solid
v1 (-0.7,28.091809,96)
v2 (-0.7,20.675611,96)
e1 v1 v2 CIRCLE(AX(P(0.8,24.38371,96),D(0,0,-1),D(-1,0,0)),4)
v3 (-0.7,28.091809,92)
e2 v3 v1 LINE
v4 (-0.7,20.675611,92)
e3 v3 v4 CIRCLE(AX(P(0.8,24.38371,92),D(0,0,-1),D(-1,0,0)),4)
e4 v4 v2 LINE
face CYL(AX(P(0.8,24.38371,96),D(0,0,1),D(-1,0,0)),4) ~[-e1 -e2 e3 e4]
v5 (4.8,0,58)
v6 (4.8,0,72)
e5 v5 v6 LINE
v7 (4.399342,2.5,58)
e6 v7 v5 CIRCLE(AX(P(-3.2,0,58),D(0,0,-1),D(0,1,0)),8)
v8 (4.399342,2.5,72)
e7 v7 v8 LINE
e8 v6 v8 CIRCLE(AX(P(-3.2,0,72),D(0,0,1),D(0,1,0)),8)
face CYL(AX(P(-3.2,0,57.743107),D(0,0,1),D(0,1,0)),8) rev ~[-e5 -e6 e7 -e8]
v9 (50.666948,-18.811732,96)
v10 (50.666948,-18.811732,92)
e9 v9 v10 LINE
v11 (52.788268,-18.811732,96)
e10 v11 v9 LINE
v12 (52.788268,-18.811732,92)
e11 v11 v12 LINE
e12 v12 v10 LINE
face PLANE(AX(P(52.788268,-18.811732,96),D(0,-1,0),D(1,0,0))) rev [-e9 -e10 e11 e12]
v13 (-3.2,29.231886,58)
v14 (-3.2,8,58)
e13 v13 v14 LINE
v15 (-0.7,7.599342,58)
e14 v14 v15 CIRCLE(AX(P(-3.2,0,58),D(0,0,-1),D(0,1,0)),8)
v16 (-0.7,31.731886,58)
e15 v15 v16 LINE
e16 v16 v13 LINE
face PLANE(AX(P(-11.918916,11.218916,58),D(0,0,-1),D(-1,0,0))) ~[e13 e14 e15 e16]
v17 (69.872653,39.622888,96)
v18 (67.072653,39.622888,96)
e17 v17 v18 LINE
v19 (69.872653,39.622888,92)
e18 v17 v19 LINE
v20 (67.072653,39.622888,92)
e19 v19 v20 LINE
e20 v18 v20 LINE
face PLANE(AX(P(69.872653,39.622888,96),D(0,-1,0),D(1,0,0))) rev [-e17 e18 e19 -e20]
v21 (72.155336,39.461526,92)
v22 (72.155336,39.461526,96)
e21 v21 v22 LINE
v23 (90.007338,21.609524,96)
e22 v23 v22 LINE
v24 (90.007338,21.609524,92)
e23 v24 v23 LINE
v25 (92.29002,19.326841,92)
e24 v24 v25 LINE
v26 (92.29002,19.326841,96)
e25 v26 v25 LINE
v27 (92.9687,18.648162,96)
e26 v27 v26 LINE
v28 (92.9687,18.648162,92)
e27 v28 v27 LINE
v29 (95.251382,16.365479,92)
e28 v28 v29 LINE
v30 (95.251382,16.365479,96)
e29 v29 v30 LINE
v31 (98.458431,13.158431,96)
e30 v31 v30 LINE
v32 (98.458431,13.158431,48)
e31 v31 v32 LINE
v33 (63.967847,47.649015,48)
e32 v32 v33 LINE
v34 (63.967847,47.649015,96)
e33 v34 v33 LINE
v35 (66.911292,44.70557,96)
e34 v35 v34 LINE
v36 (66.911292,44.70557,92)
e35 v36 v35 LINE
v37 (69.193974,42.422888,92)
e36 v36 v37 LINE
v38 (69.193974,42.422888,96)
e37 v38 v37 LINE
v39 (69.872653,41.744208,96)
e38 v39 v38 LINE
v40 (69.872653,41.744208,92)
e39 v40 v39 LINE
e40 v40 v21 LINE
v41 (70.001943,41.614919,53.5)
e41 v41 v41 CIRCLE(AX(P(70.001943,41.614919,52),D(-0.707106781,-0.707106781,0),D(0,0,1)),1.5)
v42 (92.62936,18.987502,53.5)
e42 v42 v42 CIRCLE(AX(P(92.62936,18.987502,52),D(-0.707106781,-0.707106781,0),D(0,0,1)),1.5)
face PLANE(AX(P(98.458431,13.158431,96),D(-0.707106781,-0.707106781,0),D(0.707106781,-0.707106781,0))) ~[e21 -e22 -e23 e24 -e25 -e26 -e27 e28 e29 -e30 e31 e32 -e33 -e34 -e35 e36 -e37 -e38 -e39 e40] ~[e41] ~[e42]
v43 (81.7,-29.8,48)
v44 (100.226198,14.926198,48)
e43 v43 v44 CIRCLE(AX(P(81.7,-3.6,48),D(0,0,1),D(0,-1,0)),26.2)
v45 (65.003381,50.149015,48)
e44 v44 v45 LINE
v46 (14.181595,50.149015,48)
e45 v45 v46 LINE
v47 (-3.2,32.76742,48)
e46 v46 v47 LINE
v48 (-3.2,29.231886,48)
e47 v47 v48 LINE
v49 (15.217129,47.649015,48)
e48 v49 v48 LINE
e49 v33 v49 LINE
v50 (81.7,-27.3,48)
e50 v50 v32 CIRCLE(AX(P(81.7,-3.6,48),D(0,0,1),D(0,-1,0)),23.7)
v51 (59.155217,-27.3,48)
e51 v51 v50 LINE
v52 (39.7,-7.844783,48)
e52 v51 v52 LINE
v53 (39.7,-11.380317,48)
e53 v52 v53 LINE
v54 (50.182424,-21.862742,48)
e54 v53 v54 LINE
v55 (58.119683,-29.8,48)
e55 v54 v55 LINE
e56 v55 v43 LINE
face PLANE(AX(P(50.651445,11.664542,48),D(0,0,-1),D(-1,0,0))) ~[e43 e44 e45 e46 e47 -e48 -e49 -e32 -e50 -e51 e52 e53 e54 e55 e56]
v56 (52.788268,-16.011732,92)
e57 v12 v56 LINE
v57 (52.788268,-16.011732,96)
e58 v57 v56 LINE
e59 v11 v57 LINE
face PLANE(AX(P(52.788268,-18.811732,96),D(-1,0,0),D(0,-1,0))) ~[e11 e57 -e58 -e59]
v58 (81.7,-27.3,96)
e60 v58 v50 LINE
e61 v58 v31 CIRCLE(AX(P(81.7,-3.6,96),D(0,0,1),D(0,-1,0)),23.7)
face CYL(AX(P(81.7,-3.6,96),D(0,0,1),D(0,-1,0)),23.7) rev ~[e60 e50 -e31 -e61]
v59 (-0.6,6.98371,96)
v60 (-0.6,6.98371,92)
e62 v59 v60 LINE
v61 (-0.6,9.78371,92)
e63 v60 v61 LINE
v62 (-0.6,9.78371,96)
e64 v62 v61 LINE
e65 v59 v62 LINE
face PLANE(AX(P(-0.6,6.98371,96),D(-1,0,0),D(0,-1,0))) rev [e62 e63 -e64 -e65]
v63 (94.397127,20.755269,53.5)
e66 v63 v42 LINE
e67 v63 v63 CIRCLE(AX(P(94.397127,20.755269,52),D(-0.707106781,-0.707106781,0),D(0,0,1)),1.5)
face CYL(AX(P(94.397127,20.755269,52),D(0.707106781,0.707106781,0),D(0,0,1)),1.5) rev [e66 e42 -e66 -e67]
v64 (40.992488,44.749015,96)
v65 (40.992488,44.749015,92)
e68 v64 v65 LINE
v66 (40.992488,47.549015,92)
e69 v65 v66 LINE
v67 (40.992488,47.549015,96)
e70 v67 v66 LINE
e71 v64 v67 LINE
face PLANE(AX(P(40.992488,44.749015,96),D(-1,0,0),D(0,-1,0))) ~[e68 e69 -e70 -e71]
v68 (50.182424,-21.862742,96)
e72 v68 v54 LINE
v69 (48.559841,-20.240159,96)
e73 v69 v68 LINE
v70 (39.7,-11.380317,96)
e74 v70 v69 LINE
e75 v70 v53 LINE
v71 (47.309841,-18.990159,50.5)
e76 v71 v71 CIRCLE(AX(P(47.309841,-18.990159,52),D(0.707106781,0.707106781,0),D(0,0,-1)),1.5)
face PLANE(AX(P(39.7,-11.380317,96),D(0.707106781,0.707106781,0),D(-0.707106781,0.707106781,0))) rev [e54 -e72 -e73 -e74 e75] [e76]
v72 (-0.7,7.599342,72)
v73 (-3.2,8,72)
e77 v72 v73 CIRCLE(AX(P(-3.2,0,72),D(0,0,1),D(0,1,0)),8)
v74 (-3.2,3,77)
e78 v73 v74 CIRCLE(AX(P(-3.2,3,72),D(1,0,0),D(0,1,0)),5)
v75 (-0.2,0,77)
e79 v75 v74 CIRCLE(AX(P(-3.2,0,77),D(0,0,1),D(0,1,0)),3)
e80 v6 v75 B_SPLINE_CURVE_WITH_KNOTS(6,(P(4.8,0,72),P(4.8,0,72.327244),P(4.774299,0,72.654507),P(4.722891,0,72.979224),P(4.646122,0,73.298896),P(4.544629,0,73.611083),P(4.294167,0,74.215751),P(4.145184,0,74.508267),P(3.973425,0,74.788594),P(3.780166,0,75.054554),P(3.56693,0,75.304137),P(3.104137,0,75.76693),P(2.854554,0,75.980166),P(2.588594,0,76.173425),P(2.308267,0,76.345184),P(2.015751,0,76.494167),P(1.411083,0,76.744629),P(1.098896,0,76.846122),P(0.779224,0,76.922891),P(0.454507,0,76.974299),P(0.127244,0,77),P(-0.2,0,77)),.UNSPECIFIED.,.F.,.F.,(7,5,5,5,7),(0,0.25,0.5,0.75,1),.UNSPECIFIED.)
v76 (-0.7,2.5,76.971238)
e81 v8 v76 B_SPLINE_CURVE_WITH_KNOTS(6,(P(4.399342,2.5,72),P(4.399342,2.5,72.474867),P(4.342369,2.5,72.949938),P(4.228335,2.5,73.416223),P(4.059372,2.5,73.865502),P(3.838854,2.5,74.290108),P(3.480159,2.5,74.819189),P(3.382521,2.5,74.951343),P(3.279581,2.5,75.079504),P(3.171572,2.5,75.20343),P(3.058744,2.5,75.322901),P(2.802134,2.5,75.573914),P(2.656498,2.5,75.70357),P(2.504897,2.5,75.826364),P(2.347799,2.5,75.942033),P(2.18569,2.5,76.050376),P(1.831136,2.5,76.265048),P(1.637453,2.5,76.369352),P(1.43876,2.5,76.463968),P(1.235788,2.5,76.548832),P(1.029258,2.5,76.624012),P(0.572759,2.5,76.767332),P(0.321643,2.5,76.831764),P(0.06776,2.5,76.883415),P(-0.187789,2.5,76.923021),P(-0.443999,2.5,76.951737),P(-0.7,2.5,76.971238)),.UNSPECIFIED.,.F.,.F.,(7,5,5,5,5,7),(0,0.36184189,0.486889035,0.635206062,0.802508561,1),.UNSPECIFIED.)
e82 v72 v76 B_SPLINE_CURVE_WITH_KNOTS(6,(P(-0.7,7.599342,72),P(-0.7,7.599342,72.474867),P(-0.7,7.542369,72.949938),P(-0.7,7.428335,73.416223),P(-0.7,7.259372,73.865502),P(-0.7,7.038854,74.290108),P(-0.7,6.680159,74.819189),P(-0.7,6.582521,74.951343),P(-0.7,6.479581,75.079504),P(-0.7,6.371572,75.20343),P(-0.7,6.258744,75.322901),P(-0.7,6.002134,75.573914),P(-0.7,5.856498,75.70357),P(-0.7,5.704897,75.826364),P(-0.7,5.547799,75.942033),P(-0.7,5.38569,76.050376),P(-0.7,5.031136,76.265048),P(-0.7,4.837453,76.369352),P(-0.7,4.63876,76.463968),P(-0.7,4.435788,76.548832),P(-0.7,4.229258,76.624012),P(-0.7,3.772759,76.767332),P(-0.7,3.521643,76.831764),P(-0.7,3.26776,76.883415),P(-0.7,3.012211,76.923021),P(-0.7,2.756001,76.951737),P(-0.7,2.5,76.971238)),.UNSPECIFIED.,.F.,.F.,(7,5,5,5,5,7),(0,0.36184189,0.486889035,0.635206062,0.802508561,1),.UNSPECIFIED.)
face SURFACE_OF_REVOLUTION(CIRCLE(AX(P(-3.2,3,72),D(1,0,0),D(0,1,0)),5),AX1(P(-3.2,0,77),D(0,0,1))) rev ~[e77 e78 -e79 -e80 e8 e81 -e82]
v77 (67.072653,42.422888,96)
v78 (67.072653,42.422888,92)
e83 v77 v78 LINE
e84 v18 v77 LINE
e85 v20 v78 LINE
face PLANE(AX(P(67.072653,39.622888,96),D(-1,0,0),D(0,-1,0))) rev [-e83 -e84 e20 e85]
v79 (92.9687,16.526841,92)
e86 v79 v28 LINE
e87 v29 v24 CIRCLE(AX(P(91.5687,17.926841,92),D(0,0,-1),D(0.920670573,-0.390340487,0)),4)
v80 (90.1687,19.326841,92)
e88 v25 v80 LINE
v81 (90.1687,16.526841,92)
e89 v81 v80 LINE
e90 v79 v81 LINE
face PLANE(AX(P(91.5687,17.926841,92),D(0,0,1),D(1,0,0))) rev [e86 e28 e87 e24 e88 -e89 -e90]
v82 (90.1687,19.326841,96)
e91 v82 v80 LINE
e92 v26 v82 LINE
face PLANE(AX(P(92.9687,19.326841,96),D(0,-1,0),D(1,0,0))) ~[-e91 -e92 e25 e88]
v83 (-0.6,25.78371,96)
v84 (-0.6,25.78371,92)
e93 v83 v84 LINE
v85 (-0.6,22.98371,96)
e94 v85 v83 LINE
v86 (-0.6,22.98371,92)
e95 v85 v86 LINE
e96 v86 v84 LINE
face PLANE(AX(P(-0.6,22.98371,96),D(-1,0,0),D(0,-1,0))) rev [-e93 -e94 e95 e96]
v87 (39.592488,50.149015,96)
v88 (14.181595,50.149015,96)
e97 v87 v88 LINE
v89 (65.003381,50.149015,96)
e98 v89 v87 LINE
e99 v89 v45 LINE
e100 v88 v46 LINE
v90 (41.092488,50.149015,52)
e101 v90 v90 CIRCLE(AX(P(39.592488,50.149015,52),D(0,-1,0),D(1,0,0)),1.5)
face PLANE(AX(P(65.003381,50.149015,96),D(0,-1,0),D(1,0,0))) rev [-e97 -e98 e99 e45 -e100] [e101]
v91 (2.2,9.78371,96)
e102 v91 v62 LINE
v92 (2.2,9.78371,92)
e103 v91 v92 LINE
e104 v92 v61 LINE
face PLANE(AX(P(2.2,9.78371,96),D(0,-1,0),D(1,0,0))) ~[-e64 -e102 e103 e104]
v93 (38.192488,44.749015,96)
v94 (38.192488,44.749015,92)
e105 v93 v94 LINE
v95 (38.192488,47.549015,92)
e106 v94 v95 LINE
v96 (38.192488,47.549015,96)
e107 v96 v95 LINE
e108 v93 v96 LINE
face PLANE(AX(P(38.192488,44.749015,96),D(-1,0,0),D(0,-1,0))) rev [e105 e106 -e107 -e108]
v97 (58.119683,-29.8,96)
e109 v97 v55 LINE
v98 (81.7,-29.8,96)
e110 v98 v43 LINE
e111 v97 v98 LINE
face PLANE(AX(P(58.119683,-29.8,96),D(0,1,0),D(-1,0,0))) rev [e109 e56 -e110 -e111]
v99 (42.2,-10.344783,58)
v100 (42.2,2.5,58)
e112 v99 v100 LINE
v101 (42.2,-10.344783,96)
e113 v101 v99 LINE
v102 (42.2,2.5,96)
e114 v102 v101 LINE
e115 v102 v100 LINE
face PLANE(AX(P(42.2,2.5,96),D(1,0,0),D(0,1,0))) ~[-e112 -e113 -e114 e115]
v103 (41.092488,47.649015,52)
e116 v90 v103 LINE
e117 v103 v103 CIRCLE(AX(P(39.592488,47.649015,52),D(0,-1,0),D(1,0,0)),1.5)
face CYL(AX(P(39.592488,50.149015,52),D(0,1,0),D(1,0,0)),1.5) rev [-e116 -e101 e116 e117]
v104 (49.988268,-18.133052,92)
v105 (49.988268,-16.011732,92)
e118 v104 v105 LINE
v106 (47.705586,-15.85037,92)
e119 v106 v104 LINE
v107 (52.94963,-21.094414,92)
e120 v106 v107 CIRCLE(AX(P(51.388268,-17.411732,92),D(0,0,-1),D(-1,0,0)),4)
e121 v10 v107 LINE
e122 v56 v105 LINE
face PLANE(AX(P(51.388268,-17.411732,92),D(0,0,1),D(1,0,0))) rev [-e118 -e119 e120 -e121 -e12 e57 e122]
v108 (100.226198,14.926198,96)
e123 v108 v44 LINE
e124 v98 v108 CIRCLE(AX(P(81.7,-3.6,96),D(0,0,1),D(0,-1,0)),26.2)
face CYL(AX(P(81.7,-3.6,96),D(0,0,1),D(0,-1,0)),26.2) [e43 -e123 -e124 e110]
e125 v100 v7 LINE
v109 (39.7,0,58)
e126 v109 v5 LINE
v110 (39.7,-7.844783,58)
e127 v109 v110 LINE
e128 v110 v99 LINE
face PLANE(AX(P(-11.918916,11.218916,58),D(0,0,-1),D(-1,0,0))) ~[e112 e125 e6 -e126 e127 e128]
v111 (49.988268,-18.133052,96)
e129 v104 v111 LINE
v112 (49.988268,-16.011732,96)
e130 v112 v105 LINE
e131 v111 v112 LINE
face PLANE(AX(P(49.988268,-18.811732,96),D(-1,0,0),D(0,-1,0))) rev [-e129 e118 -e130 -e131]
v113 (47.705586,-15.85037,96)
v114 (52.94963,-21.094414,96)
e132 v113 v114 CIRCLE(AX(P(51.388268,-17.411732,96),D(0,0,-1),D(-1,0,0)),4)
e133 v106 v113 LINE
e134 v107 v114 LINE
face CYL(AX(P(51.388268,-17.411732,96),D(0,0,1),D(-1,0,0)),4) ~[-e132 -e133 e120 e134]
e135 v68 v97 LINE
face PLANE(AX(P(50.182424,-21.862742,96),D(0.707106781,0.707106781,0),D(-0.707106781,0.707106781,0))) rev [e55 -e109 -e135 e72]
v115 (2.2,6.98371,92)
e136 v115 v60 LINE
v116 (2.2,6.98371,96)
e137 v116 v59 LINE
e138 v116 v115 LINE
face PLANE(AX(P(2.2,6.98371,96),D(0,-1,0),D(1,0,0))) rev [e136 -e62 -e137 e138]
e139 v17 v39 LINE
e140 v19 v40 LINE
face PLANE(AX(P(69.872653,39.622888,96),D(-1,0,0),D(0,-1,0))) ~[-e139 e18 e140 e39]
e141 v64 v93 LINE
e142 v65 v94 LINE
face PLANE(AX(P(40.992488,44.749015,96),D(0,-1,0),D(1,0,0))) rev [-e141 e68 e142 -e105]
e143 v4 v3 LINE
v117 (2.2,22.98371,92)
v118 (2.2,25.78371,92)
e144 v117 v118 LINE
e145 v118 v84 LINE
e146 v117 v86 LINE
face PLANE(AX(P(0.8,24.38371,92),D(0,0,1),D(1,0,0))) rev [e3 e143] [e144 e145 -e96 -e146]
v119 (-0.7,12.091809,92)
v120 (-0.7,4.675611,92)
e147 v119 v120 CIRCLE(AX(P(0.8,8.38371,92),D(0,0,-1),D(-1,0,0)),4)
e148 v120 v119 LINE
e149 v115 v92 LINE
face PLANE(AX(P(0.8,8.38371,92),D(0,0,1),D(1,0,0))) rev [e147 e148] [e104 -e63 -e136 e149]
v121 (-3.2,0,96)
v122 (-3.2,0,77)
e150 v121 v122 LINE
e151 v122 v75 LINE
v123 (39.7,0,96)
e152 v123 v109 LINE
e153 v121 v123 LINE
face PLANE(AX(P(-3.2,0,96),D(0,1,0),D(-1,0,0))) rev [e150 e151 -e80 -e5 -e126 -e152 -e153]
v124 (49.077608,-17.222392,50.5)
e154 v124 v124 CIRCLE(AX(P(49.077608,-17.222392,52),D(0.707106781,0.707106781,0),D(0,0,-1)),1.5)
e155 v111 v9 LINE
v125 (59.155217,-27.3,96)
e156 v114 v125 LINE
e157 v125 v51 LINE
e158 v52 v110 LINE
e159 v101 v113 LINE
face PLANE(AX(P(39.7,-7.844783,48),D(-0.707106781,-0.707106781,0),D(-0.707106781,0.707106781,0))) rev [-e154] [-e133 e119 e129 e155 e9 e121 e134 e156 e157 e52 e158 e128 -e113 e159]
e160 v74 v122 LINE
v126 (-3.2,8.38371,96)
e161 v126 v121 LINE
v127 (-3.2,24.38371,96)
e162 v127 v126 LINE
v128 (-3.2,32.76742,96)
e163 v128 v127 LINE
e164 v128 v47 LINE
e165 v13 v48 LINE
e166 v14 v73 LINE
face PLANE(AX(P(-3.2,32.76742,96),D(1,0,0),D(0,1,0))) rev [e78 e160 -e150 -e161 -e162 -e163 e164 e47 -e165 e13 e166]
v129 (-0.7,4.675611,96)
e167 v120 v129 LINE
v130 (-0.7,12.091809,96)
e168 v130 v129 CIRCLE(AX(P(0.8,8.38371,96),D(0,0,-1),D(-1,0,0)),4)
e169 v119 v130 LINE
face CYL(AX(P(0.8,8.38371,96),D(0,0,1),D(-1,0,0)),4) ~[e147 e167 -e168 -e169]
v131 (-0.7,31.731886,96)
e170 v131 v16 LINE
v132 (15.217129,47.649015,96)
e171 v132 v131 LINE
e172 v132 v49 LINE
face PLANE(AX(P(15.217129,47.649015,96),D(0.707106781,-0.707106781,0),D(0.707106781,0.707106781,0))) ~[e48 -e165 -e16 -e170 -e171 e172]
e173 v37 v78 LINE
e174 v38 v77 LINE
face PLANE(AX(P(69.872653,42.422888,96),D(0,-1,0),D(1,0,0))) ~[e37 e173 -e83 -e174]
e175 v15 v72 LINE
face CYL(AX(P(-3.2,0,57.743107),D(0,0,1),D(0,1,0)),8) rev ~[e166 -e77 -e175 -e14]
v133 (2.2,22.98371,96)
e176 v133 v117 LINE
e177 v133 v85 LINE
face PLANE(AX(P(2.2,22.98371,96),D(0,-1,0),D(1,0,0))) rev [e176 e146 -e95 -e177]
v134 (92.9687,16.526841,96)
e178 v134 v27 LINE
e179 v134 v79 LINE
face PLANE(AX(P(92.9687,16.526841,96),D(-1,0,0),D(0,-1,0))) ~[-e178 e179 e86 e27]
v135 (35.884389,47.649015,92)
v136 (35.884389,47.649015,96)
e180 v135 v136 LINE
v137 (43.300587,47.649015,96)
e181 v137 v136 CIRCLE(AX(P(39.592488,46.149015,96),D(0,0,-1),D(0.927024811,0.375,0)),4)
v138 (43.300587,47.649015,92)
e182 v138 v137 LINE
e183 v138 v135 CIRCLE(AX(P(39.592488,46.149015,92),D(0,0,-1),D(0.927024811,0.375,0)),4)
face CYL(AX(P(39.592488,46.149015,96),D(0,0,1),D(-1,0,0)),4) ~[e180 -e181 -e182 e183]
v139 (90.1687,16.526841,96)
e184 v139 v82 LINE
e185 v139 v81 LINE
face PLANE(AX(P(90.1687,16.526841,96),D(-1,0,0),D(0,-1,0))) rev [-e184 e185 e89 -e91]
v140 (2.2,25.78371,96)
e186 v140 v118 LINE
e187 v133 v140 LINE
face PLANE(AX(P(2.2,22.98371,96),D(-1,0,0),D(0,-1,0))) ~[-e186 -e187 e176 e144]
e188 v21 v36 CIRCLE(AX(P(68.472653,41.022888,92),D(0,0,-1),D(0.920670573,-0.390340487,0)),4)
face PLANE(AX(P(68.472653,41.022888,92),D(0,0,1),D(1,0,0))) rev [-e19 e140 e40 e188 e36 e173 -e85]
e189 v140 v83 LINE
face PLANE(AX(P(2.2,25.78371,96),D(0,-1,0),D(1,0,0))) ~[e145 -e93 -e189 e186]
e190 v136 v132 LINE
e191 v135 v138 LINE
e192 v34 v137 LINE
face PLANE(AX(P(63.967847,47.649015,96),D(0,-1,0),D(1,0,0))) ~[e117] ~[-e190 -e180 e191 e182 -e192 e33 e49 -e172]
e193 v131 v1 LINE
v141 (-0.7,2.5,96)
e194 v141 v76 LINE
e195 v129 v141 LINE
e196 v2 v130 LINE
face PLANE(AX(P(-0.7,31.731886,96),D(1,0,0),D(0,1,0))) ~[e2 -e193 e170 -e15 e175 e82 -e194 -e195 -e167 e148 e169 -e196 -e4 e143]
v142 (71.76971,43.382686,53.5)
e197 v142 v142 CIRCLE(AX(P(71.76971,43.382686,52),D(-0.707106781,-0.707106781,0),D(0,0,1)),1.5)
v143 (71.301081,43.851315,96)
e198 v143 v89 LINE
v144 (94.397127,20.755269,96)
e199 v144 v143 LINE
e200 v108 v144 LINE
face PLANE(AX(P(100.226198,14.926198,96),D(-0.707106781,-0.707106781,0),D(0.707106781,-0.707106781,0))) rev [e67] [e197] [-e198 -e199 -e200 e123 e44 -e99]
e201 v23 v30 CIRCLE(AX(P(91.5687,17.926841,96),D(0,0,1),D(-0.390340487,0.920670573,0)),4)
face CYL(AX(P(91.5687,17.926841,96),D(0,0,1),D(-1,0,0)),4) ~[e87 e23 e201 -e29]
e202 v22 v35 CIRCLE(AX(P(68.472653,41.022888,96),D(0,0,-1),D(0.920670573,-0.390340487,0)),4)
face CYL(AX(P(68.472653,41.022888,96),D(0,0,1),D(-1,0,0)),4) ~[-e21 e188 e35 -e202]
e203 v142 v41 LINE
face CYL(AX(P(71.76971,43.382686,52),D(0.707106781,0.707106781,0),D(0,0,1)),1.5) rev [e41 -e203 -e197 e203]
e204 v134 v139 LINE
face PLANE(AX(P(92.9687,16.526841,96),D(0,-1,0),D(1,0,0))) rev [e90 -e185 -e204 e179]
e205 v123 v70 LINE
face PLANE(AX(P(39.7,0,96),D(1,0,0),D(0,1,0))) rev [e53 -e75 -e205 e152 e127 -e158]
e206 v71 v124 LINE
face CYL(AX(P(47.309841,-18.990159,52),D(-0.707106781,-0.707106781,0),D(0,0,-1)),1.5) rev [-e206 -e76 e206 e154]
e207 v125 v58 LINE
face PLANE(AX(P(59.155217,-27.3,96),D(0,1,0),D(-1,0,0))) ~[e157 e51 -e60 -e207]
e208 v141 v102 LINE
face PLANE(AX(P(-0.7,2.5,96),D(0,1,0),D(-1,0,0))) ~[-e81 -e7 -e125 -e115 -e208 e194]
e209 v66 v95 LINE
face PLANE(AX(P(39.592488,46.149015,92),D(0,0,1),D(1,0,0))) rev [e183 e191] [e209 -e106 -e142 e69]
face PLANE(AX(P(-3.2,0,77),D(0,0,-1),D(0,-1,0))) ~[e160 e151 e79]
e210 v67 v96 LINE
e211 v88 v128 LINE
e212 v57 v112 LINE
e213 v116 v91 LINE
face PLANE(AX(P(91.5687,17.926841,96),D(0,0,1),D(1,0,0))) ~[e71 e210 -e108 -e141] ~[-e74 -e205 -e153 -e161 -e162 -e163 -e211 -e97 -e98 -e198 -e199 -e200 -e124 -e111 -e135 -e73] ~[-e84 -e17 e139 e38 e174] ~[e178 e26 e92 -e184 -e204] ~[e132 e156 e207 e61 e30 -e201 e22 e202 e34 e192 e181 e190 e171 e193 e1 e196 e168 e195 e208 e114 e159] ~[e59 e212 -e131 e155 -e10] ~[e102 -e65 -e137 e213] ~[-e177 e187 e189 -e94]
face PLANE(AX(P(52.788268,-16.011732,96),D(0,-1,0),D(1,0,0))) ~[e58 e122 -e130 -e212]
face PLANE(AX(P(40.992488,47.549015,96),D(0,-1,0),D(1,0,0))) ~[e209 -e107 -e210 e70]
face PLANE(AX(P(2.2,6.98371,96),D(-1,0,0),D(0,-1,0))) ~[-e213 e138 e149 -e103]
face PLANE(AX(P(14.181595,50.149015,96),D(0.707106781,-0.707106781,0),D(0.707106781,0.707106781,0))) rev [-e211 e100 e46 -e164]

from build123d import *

# Parameters (mm, degrees)
RESSALTO_EXTRUS_O1_DEPTH = 48
ESBO_O12_R               = 1.5
CORTE_EXTRUS_O10_DEPTH   = 10
ESBO_O13_R               = 1.5
CORTE_EXTRUS_O11_DEPTH   = 10
ESBO_O14_R               = 1.5
CORTE_EXTRUS_O12_DEPTH   = 10
ESBO_O15_R               = 1.5
CORTE_EXTRUS_O13_DEPTH   = 10
CORTE_EXTRUS_O14_DEPTH   = 10
ESBO_O17_R               = 4
ESBO_O17_W               = 2.8
ESBO_O17_H               = 2.8
RESSALTO_EXTRUS_O2_DEPTH = 4
CORTE_EXTRUS_O15_DEPTH   = 10
ESBO_O20_R               = 86.409415436
CORTE_EXTRUS_O16_DEPTH   = 48


with BuildPart() as part:
    # Model → Ressalto-extrusão1 (new body)
    with BuildSketch(Plane.XY):
        with BuildLine():
            Line((-0.7, 0), (39, 0))
            Line((39, 0), (39.7, 0))
            Line((39.7, 0), (39.7, -11.380317396))
            Line((39.7, -11.380317396), (50.182424304, -21.8627417))
            Line((50.182424304, -21.8627417), (58.119682605, -29.8))
            Line((58.119682605, -29.8), (81.7, -29.8))
            ThreePointArc((81.7, -29.8), (105.905643752, -13.626305928), (100.226197667, 14.926197667))
            Line((100.226197667, 14.926197667), (65.00338056, 50.149014774))
            Line((65.00338056, 50.149014774), (50.111140335, 50.149014774))
            Line((50.111140335, 50.149014774), (14.181595121, 50.149014774))
            Line((14.181595121, 50.149014774), (-3.2, 32.767419653))
            Line((-3.2, 32.767419653), (-3.2, 5))
            Line((-3.2, 5), (-3.2, 0))
            Line((-3.2, 0), (-0.7, 0))
        make_face()
        with BuildLine():
            Line((-0.7, 2.5), (39, 2.5))
            Line((39, 2.5), (39.7, 2.5))
            Line((39.7, 2.5), (42.2, 2.5))
            Line((42.2, 2.5), (42.2, -10.34478349))
            Line((42.2, -10.34478349), (51.950191257, -20.094974747))
            Line((51.950191257, -20.094974747), (59.15521651, -27.3))
            Line((59.15521651, -27.3), (81.7, -27.3))
            ThreePointArc((81.7, -27.3), (103.595944921, -12.669597347), (98.458430714, 13.158430714))
            Line((98.458430714, 13.158430714), (63.967846654, 47.649014774))
            Line((63.967846654, 47.649014774), (50.111140335, 47.649014774))
            Line((50.111140335, 47.649014774), (15.217129027, 47.649014774))
            Line((15.217129027, 47.649014774), (-0.7, 31.731885747))
            Line((-0.7, 31.731885747), (-0.7, 2.5))
        make_face(mode=Mode.SUBTRACT)
    extrude(amount=RESSALTO_EXTRUS_O1_DEPTH)

    # Esboço12 → Corte-extrusão10 (cut)
    with BuildSketch(Plane(origin=(57.576197667, 57.576197667, 0), x_dir=(0, 0, -1), z_dir=(0.707106781, 0.707106781, 0))):
        with Locations((-44, -20.072657306)):
            Circle(ESBO_O12_R)
        with Locations((-44, -52.072657306)):
            Circle(ESBO_O12_R)
    extrude(amount=-CORTE_EXTRUS_O10_DEPTH, mode=Mode.SUBTRACT)

    # Esboço13 → Corte-extrusão11 (cut)
    with BuildSketch(Plane(origin=(0, 50.149014774, 0), x_dir=(1, 0, 0), z_dir=(0, 1, 0))):
        with Locations((39.59248784, -44)):
            Circle(ESBO_O13_R)
    extrude(amount=-CORTE_EXTRUS_O11_DEPTH, mode=Mode.SUBTRACT)

    # Esboço14 → Corte-extrusão12 (cut)
    with BuildSketch(Plane.ZY.offset(3.2)):
        with Locations((44, 23.701037279)):
            Circle(ESBO_O14_R)
        with Locations((44, 7.740898975)):
            Circle(ESBO_O14_R)
    extrude(amount=-CORTE_EXTRUS_O12_DEPTH, mode=Mode.SUBTRACT)

    # Esboço15 → Corte-extrusão13 (cut)
    with BuildSketch(Plane(origin=(14.159841302, 14.159841302, 0), x_dir=(0, 0, 1), z_dir=(-0.707106781, -0.707106781, 0))):
        with Locations((44, -46.881179593)):
            Circle(ESBO_O15_R)
    extrude(amount=-CORTE_EXTRUS_O13_DEPTH, mode=Mode.SUBTRACT)

    # Esboço16 → Corte-extrusão14 (cut)
    with BuildSketch(Plane.XY.offset(48)):
        Polygon((39.7, 0), (39.7, -7.84478349), (42.2, -10.34478349), (42.2, 2.5), (-0.7, 2.5), (-0.7, 0), align=None)
    extrude(amount=-CORTE_EXTRUS_O14_DEPTH, mode=Mode.SUBTRACT)

    # Esboço17 → Ressalto-extrusão2 (add)
    with BuildSketch(Plane(origin=(0, 0, 0), x_dir=(-1, 0, 0), z_dir=(0, 0, -1))):
        with Locations((-91.568699638, 17.926841447)):
            Circle(ESBO_O17_R)
        with Locations((-91.568699638, 17.926841447)):
            Rectangle(ESBO_O17_W, ESBO_O17_H, mode=Mode.SUBTRACT)
        with Locations((-68.47265349, 41.022887595)):
            Circle(ESBO_O17_R)
        with Locations((-68.47265349, 41.022887595)):
            Rectangle(ESBO_O17_W, ESBO_O17_H, mode=Mode.SUBTRACT)
        with Locations((-39.59248784, 46.149014774)):
            Circle(ESBO_O17_R)
        with Locations((-39.59248784, 46.149014774)):
            Rectangle(ESBO_O17_W, ESBO_O17_H, mode=Mode.SUBTRACT)
        with Locations((-0.8, 24.383709827)):
            Circle(ESBO_O17_R)
        with Locations((-0.8, 24.383709827)):
            Rectangle(ESBO_O17_W, ESBO_O17_H, mode=Mode.SUBTRACT)
        with Locations((-0.8, 8.383709827)):
            Circle(ESBO_O17_R)
        with Locations((-0.8, 8.383709827)):
            Rectangle(ESBO_O17_W, ESBO_O17_H, mode=Mode.SUBTRACT)
        with Locations((-51.388268427, -17.411731573)):
            Circle(ESBO_O17_R)
        with Locations((-51.388268427, -17.411731573)):
            Rectangle(ESBO_O17_W, ESBO_O17_H, mode=Mode.SUBTRACT)
    extrude(amount=-RESSALTO_EXTRUS_O2_DEPTH)

    # Esboço18 → Corte-extrusão15 (cut)
    with BuildSketch(Plane.XY.offset(48)):
        Polygon((-0.7, 31.731885747), (-32.431885747, 0), (-0.7, 0), align=None)
    extrude(amount=-CORTE_EXTRUS_O15_DEPTH, mode=Mode.SUBTRACT)

    # Esboço19 → Corte-Revolução1 (revolve, cut)
    with BuildSketch(Plane.ZY.offset(3.2)):
        with BuildLine():
            Line((19, 0), (29, 0))
            Line((29, 0), (38.25689259, 0))
            Line((38.25689259, 0), (38.25689259, 8))
            Line((38.25689259, 8), (24, 8))
            ThreePointArc((24, 8), (20.464466094, 6.535533906), (19, 3))
            Line((19, 3), (19, 0))
        make_face()
    revolve(axis=Axis((-3.2, 0, 19), (0, 0, 1)), mode=Mode.SUBTRACT)


with BuildPart() as body_2:
    # Espelhar1: mirrored copy
    add(part.part.mirror(Plane(origin=(81.7, -3.6, 48), x_dir=(1, 0, 0), z_dir=(0, 0, 1))))


with BuildPart() as part_1:
    add(part.part)

    # Esboço20 → Corte-extrusão16 (cut)
    with BuildSketch(Plane(origin=(0, 0, 0), x_dir=(-1, 0, 0), z_dir=(0, 0, -1))):
        with Locations((-60.26581621, 14.045976116)):
            Circle(ESBO_O20_R)
    extrude(amount=-CORTE_EXTRUS_O16_DEPTH, mode=Mode.SUBTRACT)


solid = body_2.part
